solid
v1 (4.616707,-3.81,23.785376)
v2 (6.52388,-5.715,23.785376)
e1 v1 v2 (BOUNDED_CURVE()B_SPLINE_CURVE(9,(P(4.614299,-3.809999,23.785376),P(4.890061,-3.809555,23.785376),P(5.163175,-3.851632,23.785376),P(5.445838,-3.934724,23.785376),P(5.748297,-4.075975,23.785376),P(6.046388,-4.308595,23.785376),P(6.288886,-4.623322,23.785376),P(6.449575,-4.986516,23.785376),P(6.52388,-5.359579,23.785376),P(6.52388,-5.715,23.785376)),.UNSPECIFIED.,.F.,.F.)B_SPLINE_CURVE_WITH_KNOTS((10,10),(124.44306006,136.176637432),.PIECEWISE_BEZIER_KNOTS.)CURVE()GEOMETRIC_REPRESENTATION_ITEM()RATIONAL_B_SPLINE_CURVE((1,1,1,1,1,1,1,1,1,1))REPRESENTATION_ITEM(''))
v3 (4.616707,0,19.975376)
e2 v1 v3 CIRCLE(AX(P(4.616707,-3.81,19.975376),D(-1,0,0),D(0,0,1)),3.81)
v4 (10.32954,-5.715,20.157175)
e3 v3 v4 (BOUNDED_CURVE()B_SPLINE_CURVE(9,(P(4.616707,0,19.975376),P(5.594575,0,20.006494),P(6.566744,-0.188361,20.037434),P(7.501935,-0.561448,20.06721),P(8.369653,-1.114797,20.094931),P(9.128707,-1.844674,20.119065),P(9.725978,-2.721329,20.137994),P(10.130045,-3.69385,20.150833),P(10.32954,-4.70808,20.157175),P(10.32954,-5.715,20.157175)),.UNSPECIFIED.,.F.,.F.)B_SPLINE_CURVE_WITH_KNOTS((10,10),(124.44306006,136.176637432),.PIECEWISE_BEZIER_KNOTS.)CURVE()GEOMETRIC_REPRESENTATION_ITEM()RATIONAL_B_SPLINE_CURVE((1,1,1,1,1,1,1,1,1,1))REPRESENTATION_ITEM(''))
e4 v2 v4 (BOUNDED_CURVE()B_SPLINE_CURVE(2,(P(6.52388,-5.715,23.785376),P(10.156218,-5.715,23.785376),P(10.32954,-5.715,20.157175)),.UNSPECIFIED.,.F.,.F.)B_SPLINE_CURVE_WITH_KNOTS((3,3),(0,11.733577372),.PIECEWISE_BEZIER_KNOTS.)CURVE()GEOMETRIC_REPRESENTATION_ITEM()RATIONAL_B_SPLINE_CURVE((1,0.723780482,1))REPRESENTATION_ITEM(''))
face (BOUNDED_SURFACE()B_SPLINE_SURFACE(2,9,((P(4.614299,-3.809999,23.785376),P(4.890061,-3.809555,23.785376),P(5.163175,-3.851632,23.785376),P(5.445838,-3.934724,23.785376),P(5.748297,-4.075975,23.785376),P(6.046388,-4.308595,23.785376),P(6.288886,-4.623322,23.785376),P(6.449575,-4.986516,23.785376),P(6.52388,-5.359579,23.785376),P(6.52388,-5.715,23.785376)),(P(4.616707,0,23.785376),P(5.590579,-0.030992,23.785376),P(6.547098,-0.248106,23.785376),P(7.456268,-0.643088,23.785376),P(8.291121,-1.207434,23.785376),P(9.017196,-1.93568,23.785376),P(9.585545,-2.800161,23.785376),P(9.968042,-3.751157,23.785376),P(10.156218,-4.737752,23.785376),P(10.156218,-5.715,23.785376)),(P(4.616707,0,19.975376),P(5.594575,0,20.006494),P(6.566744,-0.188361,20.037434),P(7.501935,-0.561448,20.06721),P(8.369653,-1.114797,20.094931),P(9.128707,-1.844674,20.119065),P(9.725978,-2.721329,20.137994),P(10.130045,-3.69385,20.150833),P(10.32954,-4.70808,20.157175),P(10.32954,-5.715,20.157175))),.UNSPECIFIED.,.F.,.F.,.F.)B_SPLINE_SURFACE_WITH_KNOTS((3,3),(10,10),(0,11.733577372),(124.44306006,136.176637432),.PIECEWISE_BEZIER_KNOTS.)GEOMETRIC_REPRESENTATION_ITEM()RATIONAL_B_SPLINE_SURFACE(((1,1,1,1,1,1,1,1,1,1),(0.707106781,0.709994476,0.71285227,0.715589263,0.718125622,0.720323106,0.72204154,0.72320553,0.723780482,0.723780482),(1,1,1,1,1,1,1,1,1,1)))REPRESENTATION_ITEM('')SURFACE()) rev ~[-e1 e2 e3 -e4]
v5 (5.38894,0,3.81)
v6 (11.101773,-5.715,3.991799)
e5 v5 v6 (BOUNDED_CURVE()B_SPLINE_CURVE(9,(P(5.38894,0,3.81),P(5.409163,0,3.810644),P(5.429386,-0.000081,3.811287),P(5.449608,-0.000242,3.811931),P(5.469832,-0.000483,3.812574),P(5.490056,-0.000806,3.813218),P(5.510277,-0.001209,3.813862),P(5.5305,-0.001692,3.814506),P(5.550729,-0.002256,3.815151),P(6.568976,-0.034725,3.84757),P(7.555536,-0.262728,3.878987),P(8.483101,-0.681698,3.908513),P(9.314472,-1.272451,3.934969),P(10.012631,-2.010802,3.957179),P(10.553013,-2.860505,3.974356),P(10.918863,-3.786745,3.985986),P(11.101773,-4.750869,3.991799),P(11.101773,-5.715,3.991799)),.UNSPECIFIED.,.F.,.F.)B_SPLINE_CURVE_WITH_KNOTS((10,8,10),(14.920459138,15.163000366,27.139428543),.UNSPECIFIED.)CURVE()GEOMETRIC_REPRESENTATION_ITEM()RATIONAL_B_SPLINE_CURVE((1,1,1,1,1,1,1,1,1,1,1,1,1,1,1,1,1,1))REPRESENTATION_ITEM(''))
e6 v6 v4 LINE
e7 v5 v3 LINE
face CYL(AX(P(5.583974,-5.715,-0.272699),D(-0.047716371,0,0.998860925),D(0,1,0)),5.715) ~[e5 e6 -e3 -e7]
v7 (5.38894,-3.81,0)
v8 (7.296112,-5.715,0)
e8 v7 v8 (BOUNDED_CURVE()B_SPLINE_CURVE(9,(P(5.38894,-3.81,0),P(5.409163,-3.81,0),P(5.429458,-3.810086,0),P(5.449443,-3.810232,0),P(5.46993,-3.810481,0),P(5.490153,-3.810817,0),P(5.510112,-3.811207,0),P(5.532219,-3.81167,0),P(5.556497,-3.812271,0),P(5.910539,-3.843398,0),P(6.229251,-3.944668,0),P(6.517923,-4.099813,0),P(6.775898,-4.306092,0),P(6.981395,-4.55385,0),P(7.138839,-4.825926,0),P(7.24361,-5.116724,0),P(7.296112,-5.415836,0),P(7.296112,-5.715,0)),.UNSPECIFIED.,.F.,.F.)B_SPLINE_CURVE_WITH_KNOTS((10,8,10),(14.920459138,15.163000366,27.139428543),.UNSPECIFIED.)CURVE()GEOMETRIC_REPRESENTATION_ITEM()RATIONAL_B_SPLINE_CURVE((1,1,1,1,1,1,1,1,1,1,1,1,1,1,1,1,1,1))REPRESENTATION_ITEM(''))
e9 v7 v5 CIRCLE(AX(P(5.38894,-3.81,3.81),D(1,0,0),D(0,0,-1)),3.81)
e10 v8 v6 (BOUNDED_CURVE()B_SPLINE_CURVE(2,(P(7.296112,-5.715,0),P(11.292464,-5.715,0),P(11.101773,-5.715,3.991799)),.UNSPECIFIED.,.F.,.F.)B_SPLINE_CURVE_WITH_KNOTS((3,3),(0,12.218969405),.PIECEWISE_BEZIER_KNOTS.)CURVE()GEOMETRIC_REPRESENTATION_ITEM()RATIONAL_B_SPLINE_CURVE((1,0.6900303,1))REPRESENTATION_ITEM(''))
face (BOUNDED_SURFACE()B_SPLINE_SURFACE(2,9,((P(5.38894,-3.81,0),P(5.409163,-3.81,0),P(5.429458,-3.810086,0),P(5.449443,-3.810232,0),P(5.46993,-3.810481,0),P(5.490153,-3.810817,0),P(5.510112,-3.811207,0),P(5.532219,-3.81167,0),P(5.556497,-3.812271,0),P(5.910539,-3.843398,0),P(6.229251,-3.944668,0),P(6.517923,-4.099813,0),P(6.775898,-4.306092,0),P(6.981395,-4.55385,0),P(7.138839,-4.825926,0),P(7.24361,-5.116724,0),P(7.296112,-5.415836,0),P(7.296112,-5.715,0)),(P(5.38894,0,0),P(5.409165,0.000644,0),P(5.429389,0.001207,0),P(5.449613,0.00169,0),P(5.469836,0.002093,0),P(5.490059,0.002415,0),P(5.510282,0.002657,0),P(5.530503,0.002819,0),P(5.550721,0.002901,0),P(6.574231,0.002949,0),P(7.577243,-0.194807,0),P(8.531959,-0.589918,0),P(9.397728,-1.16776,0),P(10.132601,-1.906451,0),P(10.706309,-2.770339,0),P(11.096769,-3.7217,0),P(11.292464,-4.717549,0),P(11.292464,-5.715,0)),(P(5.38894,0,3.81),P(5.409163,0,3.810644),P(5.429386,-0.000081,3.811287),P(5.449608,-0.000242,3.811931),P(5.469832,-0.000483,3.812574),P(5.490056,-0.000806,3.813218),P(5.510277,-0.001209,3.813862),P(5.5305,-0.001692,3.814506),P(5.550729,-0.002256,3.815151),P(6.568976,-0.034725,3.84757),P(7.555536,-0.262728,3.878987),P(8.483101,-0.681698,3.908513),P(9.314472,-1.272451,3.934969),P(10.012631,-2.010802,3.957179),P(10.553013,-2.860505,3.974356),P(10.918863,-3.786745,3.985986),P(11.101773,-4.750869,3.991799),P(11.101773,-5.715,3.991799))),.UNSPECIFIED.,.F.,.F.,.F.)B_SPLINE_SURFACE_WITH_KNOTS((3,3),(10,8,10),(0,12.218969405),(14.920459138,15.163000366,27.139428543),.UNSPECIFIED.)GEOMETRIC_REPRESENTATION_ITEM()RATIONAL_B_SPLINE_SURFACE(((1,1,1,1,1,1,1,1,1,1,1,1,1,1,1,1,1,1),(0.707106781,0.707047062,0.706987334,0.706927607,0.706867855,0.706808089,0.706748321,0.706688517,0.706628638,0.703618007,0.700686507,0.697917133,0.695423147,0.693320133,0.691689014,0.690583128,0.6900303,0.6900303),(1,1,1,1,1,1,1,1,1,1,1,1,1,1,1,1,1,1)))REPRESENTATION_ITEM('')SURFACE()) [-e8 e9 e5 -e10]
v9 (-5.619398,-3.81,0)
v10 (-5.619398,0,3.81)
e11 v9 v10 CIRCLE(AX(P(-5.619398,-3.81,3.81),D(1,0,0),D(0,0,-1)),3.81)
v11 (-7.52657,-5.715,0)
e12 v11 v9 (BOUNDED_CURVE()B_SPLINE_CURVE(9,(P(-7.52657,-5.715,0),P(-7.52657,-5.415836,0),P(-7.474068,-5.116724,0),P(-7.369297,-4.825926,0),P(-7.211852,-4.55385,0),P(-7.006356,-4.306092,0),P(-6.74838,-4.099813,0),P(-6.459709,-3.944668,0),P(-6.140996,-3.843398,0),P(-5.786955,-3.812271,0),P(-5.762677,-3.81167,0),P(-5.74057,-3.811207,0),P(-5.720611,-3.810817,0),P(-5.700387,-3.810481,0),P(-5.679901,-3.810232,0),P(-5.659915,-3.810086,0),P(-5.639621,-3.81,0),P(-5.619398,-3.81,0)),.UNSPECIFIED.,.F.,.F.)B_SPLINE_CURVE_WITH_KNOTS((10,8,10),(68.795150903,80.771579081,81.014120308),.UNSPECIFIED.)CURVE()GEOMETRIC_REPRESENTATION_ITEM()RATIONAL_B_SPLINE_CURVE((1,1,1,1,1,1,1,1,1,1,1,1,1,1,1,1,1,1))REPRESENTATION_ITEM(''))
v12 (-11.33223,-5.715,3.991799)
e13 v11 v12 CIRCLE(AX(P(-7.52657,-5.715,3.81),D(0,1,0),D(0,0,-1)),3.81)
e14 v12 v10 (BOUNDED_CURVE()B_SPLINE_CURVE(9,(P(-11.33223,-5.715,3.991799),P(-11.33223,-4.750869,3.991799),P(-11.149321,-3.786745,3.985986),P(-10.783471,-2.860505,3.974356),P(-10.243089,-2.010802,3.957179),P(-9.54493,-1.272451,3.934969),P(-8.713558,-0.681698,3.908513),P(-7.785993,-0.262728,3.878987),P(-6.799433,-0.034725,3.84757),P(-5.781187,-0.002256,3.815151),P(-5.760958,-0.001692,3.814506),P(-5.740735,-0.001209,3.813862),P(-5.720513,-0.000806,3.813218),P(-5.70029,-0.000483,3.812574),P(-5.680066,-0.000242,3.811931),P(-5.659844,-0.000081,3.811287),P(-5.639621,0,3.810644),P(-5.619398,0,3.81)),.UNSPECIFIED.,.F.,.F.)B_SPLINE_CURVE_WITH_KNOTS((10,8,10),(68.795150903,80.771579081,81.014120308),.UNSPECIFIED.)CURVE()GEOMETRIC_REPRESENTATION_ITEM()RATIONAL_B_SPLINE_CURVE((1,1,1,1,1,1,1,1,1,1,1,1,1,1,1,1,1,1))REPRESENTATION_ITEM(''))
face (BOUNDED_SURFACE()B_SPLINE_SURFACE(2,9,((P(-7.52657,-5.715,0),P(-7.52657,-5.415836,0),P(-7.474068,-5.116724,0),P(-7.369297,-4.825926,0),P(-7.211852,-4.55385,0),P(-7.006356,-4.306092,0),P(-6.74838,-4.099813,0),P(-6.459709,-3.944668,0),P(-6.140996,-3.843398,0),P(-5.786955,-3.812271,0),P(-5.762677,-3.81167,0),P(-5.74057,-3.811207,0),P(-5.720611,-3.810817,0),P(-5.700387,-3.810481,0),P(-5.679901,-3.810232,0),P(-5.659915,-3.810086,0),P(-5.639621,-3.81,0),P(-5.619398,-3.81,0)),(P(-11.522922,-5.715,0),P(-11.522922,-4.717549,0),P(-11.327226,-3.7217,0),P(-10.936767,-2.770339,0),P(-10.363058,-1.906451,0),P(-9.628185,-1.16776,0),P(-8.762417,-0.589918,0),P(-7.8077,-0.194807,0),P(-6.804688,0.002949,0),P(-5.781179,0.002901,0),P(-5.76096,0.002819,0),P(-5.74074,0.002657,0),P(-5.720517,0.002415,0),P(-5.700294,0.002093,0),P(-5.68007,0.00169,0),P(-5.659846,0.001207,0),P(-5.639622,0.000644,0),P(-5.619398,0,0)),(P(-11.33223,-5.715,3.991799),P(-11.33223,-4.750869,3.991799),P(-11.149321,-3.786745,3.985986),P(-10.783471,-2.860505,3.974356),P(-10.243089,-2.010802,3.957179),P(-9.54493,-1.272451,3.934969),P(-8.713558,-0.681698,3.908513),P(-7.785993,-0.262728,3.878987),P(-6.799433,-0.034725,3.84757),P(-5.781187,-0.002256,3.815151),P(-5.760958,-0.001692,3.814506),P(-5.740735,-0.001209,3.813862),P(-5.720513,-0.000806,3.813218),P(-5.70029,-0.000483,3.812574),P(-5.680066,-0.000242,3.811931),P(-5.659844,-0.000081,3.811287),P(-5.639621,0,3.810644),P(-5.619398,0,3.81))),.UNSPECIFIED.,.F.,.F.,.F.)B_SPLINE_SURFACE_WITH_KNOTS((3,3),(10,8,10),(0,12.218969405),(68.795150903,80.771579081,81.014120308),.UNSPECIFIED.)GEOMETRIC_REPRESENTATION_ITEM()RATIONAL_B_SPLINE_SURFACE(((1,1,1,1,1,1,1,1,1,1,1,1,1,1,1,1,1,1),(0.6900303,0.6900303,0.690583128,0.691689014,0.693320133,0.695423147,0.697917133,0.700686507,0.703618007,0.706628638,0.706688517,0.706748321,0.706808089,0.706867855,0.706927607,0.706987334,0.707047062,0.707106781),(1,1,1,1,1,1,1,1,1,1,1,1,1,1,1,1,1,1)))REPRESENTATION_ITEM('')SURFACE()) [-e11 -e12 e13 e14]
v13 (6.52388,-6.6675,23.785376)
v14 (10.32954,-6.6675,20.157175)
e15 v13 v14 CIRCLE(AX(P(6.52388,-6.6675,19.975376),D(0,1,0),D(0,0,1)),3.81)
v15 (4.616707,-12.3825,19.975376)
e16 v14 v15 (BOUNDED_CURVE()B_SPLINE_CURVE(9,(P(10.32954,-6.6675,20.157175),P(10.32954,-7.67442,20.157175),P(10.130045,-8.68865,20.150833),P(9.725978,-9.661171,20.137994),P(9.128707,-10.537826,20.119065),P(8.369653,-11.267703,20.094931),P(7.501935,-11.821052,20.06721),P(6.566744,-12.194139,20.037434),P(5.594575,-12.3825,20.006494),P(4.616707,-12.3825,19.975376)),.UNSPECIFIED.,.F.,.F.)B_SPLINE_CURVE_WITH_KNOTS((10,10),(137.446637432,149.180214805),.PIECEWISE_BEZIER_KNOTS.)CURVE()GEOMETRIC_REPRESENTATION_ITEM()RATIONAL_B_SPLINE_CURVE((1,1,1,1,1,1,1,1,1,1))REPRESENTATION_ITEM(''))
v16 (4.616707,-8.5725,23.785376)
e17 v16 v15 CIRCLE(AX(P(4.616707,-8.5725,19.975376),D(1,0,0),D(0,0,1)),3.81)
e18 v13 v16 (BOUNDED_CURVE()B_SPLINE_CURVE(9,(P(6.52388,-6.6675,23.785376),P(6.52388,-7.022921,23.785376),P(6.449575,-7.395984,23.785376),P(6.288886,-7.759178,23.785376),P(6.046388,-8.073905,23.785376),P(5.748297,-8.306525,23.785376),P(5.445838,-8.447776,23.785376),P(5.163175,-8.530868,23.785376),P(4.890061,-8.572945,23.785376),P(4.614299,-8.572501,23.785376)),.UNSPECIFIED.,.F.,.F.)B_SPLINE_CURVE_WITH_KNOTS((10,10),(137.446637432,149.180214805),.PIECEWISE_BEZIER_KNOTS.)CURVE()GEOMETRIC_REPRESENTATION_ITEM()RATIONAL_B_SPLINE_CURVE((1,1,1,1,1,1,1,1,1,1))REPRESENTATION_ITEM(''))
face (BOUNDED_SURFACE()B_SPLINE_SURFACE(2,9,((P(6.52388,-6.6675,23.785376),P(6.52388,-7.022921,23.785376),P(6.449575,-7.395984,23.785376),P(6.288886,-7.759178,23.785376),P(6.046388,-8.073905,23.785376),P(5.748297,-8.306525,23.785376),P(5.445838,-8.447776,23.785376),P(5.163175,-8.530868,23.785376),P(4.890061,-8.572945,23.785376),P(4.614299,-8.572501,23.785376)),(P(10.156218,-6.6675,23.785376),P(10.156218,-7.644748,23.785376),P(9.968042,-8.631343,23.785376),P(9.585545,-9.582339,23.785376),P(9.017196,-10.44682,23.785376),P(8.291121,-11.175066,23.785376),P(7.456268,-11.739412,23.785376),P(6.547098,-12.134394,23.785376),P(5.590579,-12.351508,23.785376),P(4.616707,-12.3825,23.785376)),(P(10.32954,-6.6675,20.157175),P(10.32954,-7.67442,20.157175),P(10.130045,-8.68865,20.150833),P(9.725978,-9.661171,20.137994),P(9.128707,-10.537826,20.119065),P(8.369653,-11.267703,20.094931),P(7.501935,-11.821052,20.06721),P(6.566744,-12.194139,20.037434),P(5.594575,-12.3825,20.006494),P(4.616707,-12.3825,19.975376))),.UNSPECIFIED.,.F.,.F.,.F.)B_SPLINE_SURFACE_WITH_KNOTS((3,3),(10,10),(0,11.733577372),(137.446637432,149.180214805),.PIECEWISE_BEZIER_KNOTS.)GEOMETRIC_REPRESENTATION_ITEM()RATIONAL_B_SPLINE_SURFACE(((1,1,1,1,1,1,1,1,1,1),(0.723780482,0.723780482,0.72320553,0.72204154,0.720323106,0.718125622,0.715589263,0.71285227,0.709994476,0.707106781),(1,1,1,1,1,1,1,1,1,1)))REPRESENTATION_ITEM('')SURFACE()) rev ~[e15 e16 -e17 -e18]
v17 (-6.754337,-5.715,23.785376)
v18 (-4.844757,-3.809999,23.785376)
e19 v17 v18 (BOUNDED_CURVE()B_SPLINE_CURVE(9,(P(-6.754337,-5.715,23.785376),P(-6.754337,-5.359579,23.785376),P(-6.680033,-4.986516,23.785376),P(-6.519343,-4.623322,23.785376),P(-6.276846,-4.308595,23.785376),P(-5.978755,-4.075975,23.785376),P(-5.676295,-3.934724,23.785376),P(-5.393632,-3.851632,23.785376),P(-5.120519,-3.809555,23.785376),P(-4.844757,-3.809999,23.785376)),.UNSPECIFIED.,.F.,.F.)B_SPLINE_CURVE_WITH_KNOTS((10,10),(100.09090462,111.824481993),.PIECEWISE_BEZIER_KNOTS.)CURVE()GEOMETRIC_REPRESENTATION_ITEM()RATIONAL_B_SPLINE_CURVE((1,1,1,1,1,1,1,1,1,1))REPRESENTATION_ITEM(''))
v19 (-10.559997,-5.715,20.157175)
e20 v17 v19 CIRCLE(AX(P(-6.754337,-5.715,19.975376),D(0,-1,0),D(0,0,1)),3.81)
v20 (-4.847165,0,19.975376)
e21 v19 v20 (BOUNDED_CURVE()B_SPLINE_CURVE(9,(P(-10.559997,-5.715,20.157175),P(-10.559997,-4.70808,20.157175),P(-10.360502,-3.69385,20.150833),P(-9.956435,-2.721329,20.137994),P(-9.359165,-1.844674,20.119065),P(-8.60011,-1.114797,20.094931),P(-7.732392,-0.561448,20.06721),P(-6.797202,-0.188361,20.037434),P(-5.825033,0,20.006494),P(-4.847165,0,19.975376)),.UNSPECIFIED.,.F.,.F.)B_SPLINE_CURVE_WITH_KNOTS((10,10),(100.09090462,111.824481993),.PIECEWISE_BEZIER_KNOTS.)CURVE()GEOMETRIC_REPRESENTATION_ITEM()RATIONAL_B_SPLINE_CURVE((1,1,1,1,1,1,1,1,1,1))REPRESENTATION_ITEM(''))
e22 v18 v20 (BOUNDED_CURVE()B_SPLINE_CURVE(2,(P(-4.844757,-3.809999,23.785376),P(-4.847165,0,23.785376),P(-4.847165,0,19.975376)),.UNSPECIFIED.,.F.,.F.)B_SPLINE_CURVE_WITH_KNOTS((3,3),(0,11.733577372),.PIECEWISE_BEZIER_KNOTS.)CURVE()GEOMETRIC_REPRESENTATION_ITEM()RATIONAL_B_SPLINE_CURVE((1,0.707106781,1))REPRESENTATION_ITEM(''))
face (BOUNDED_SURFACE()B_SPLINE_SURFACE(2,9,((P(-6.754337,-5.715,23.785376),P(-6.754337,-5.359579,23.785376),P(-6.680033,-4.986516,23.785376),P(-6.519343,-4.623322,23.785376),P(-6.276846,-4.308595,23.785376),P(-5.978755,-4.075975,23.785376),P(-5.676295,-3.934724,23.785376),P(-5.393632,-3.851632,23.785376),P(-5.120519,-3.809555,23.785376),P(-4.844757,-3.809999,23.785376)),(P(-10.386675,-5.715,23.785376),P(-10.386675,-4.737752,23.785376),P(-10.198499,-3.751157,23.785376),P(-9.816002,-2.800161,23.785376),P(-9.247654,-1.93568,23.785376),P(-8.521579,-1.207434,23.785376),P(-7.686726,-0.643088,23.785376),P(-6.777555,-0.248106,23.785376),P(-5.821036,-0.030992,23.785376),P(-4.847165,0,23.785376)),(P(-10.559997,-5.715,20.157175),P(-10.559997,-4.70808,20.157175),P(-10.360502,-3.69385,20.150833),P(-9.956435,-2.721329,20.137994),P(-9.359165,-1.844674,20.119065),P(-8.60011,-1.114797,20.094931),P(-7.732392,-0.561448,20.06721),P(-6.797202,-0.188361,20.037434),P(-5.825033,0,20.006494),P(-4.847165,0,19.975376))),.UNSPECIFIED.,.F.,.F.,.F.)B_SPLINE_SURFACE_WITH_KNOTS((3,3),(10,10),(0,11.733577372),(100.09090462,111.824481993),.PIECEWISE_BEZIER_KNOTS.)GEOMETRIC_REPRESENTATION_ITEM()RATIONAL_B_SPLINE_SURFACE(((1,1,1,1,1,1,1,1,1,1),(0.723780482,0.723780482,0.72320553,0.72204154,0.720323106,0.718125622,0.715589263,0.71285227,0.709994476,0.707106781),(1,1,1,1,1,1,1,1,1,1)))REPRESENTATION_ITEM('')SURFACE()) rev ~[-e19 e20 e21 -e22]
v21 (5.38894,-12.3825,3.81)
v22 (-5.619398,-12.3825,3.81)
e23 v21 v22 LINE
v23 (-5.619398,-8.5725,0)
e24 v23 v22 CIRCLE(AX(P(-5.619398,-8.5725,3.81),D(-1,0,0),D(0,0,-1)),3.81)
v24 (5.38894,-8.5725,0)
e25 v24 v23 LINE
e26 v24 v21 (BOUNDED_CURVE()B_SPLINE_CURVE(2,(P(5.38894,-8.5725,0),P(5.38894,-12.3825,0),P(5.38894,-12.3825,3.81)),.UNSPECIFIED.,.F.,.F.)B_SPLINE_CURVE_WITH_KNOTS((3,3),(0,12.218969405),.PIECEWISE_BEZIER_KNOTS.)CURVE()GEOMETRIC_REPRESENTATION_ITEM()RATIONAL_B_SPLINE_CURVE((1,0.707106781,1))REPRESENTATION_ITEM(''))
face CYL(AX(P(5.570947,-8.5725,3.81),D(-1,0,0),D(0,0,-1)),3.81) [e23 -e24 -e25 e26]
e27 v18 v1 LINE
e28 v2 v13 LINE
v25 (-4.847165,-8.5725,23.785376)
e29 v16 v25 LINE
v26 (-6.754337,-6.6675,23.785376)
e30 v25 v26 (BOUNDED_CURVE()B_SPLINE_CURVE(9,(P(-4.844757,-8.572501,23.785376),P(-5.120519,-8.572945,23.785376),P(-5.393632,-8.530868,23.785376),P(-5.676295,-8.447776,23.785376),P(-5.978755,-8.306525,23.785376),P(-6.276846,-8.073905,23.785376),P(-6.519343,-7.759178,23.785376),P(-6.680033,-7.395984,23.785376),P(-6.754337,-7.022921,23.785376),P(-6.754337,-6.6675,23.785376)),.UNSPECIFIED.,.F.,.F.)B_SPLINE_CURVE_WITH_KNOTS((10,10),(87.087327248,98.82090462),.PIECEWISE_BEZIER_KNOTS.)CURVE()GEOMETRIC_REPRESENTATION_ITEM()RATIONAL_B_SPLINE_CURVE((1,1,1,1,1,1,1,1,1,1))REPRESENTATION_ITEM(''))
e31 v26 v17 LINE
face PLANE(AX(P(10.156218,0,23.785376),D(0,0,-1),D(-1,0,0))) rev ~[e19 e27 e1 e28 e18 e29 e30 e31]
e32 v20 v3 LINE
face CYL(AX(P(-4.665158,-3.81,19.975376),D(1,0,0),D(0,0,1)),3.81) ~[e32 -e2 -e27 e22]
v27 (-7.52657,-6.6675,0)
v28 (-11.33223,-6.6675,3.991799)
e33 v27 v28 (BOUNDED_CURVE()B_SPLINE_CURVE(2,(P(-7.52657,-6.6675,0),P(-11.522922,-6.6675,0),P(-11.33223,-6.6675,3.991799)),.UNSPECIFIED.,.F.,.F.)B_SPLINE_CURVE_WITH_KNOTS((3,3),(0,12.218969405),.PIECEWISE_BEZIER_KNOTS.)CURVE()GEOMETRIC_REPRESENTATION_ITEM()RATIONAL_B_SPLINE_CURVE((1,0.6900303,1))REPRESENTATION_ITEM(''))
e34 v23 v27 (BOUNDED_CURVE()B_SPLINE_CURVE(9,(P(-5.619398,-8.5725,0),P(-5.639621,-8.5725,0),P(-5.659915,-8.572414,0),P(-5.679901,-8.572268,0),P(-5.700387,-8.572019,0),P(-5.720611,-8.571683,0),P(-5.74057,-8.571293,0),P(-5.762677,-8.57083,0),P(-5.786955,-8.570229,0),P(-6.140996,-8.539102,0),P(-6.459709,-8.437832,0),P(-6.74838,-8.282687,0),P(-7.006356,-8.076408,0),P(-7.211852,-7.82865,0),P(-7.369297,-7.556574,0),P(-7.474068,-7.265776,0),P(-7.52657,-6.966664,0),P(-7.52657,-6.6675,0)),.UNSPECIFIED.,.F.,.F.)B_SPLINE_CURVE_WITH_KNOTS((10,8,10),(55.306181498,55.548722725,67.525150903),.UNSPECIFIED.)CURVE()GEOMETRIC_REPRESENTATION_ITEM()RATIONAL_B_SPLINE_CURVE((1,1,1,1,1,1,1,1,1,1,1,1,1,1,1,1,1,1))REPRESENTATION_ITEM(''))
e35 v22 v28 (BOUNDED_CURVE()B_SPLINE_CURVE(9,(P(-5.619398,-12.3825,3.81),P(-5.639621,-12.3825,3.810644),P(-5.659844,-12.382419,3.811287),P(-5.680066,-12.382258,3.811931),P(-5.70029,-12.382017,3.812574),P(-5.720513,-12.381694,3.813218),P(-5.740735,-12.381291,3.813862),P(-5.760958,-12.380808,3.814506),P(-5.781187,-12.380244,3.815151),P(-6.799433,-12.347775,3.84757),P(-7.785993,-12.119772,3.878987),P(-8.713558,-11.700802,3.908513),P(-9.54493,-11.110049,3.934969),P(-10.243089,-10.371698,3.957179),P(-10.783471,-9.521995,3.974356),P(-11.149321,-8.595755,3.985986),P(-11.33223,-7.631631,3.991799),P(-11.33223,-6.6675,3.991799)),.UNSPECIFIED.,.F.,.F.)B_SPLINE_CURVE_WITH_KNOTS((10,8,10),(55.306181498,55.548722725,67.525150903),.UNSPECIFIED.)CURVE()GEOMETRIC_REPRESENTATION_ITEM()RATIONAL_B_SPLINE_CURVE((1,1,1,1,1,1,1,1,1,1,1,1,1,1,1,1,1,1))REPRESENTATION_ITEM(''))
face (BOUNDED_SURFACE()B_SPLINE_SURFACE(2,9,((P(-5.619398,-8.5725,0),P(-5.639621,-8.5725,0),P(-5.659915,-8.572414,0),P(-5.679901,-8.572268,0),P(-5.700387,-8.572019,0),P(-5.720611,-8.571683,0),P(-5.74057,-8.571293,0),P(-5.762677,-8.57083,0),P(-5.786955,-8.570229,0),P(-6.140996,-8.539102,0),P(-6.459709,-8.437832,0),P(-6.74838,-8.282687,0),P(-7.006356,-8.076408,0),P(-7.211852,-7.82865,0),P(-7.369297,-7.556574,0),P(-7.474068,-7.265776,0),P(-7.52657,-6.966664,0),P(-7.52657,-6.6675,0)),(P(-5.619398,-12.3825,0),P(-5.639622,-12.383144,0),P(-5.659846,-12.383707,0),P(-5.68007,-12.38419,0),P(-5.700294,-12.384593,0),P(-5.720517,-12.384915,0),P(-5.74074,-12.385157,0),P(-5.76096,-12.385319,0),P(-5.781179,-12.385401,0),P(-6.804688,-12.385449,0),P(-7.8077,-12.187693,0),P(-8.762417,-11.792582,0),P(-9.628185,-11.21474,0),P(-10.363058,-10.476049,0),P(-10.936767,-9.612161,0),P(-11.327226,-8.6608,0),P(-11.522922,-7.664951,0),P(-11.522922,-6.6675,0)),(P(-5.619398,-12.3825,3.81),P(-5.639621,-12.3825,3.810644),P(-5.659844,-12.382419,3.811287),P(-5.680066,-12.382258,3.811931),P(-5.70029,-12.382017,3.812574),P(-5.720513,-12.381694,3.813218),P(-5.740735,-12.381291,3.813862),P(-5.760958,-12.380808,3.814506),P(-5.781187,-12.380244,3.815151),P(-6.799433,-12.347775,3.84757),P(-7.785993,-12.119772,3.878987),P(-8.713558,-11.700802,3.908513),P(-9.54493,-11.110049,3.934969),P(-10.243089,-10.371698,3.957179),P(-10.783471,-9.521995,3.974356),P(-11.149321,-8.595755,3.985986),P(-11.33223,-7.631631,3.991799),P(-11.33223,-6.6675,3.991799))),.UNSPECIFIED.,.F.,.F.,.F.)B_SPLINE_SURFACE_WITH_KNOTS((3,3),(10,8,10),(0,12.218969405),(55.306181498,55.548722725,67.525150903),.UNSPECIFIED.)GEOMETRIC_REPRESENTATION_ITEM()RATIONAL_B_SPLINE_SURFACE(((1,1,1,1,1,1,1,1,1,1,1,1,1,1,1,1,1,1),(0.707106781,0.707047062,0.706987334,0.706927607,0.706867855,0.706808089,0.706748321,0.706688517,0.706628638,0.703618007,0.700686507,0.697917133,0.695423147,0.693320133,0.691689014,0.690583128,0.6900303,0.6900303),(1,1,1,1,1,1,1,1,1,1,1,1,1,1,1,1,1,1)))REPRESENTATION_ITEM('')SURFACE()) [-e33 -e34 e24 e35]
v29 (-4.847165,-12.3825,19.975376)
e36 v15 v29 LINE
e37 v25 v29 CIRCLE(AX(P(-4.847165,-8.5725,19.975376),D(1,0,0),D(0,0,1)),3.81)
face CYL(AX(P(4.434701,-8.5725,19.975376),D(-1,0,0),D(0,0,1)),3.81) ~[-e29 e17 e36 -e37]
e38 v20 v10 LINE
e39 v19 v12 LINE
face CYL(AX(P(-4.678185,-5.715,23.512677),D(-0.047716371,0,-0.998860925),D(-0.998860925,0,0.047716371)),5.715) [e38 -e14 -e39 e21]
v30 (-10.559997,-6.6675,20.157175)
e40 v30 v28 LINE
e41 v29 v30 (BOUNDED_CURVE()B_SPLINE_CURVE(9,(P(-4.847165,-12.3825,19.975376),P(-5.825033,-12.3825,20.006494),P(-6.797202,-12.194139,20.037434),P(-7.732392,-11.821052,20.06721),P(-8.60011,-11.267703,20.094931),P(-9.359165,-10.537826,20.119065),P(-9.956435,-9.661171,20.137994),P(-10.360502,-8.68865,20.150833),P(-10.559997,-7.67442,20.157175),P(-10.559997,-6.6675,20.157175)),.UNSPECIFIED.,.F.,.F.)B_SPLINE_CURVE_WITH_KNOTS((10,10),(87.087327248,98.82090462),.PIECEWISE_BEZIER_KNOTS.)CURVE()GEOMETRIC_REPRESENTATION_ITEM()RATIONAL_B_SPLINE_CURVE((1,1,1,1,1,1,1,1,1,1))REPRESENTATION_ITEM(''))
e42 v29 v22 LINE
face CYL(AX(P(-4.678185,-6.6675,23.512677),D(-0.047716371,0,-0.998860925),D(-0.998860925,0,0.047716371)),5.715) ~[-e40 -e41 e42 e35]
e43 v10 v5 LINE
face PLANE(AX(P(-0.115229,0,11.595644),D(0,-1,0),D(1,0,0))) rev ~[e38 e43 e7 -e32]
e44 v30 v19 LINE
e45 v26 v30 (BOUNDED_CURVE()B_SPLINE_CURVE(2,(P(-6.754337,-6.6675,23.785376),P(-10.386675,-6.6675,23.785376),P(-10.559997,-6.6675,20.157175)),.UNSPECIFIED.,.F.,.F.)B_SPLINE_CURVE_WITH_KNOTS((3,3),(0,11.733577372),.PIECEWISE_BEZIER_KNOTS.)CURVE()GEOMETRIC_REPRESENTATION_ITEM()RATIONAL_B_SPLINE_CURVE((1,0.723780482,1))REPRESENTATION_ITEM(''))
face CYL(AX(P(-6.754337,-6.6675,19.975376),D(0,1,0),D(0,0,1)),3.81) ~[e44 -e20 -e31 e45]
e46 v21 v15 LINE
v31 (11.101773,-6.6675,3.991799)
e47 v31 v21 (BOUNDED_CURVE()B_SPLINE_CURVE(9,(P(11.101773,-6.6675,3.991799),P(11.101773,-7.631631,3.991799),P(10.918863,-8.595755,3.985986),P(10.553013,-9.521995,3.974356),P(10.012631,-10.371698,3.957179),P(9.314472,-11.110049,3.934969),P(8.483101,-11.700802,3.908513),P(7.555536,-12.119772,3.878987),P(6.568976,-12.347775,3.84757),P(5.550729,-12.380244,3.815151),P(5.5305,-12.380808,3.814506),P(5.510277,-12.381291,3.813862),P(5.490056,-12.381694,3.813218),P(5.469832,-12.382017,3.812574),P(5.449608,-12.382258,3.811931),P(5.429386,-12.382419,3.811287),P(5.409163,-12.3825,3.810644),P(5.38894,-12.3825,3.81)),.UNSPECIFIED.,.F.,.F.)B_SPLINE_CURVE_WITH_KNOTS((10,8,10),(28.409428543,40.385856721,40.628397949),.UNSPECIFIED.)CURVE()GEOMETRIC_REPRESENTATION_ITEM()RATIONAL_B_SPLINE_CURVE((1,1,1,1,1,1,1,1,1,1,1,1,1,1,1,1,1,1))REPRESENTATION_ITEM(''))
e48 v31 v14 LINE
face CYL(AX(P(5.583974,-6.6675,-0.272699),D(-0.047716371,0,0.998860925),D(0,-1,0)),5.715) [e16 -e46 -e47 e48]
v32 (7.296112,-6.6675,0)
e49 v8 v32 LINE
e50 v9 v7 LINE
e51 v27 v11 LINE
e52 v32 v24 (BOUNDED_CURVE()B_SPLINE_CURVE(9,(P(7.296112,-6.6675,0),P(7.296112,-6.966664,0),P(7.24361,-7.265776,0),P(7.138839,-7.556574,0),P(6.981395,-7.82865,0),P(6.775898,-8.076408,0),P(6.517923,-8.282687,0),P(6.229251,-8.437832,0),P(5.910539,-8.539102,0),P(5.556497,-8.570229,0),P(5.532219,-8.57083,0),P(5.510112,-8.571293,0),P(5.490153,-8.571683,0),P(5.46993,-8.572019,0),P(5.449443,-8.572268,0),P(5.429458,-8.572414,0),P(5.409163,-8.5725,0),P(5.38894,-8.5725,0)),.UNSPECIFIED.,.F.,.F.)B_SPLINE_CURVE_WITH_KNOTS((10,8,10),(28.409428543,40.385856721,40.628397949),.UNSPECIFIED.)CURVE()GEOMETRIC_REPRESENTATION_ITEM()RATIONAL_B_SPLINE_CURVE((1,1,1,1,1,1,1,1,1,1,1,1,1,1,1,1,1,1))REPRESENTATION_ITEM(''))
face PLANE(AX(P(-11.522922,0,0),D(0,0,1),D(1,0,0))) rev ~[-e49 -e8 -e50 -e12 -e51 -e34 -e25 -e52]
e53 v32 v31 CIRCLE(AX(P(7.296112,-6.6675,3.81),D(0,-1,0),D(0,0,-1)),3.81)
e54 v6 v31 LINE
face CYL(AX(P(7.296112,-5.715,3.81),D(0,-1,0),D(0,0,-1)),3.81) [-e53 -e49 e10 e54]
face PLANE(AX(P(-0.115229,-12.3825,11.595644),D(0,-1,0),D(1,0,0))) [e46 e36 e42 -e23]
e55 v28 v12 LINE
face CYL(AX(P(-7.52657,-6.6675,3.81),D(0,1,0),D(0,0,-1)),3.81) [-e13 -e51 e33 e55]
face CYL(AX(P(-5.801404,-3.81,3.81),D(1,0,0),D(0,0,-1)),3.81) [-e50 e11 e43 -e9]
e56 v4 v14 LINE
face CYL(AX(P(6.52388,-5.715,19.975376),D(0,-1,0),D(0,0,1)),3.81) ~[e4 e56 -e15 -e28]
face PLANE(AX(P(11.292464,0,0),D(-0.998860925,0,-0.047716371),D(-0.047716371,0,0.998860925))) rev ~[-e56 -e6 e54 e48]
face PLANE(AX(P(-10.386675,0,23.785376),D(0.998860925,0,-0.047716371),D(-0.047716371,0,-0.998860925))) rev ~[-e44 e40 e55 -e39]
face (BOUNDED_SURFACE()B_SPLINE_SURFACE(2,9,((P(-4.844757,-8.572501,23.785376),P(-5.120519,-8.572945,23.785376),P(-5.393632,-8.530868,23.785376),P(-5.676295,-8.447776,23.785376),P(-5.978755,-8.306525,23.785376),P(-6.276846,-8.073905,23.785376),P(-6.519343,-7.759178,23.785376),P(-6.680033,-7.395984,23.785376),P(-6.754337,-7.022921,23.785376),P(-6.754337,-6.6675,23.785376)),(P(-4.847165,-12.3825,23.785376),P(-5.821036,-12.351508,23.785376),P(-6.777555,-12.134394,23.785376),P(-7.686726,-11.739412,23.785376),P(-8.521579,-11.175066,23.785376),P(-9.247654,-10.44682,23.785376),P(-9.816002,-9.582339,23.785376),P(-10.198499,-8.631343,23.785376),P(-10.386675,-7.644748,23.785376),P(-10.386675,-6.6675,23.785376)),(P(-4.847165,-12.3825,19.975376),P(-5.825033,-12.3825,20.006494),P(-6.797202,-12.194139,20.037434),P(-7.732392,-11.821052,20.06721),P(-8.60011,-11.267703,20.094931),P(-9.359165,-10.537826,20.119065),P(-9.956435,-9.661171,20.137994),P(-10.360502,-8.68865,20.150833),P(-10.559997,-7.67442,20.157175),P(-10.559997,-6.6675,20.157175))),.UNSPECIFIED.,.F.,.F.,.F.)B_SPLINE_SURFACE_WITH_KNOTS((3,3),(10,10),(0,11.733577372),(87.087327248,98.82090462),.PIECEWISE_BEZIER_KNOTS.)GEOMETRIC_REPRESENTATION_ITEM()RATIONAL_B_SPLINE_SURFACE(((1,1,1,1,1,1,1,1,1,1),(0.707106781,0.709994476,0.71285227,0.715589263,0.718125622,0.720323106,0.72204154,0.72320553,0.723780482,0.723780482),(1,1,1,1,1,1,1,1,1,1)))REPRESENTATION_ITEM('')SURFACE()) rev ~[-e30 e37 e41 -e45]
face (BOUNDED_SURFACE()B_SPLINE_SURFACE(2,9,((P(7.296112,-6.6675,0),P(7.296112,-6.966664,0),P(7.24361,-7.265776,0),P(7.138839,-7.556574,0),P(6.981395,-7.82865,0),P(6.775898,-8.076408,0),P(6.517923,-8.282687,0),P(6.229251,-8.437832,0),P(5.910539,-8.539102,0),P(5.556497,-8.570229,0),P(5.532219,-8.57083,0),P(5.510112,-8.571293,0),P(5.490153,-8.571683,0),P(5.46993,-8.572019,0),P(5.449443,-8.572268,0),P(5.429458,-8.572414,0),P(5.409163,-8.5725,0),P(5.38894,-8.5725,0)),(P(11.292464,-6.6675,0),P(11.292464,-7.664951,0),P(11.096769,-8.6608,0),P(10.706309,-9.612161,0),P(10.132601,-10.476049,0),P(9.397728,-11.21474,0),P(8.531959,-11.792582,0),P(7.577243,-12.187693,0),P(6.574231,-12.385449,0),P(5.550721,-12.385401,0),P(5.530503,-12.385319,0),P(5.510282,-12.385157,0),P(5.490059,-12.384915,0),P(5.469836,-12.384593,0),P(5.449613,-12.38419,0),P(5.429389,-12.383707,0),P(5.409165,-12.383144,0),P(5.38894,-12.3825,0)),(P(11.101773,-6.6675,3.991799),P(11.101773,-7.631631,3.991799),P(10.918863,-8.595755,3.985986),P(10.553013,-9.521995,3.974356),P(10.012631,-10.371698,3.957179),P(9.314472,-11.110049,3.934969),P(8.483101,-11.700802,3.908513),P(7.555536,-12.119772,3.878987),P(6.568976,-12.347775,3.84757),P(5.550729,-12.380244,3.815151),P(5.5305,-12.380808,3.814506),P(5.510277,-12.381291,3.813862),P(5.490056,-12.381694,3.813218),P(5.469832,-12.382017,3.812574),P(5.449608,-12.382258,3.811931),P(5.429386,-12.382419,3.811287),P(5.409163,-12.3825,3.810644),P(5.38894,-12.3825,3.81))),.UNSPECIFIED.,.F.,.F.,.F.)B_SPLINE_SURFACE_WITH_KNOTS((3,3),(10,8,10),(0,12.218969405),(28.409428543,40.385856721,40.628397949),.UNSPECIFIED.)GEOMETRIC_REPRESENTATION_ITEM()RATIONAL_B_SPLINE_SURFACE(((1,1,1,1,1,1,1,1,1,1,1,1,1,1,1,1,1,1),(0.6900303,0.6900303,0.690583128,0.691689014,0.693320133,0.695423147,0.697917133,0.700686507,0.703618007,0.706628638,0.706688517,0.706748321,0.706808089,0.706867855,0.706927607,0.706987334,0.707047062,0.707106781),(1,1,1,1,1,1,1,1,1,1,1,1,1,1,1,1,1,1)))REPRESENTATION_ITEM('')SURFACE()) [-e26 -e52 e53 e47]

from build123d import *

# Parameters (mm, degrees)
F1_DEPTH = 16.51
F2_R     = 7.62
F3_R     = 7.62
F4_R     = 5.08
F5_R     = 5.08
F6_SCALE = 0.75


with BuildPart() as f1:
    # F0 (on Front) → F1 (new body)
    with BuildSketch(Plane.XZ):
        Polygon((-13.8489005984, 31.7138343761), (-15.3638953721, 0), (15.0566186512, 0), (13.5416238775, 31.7138343761), align=None)
    extrude(amount=F1_DEPTH)

    # F2
    f2_edges = [f1.edges().sort_by_distance(p)[0] for p in [
        (-14.606398, -16.51, 15.856917),
    ]]
    fillet(f2_edges, radius=F2_R)

    # F3
    f3_edges = [f1.edges().sort_by_distance(p)[0] for p in [
        (14.299121, -16.51, 15.856917),
        (14.299121, 0, 15.856917),
        (-14.606398, 0, 15.856917),
    ]]
    fillet(f3_edges, radius=F3_R)

    # F4
    f4_edges = [f1.edges().sort_by_distance(p)[0] for p in [
        (-0.153638, 0, 0),
    ]]
    fillet(f4_edges, radius=F4_R)

    # F5
    f5_edges = [f1.edges().sort_by_distance(p)[0] for p in [
        (-0.153638, -16.51, 31.713834),
    ]]
    fillet(f5_edges, radius=F5_R)


with BuildPart() as f1_1:
    # F6: moved
    add(f1.part.scale(F6_SCALE))


solid = f1_1.part
